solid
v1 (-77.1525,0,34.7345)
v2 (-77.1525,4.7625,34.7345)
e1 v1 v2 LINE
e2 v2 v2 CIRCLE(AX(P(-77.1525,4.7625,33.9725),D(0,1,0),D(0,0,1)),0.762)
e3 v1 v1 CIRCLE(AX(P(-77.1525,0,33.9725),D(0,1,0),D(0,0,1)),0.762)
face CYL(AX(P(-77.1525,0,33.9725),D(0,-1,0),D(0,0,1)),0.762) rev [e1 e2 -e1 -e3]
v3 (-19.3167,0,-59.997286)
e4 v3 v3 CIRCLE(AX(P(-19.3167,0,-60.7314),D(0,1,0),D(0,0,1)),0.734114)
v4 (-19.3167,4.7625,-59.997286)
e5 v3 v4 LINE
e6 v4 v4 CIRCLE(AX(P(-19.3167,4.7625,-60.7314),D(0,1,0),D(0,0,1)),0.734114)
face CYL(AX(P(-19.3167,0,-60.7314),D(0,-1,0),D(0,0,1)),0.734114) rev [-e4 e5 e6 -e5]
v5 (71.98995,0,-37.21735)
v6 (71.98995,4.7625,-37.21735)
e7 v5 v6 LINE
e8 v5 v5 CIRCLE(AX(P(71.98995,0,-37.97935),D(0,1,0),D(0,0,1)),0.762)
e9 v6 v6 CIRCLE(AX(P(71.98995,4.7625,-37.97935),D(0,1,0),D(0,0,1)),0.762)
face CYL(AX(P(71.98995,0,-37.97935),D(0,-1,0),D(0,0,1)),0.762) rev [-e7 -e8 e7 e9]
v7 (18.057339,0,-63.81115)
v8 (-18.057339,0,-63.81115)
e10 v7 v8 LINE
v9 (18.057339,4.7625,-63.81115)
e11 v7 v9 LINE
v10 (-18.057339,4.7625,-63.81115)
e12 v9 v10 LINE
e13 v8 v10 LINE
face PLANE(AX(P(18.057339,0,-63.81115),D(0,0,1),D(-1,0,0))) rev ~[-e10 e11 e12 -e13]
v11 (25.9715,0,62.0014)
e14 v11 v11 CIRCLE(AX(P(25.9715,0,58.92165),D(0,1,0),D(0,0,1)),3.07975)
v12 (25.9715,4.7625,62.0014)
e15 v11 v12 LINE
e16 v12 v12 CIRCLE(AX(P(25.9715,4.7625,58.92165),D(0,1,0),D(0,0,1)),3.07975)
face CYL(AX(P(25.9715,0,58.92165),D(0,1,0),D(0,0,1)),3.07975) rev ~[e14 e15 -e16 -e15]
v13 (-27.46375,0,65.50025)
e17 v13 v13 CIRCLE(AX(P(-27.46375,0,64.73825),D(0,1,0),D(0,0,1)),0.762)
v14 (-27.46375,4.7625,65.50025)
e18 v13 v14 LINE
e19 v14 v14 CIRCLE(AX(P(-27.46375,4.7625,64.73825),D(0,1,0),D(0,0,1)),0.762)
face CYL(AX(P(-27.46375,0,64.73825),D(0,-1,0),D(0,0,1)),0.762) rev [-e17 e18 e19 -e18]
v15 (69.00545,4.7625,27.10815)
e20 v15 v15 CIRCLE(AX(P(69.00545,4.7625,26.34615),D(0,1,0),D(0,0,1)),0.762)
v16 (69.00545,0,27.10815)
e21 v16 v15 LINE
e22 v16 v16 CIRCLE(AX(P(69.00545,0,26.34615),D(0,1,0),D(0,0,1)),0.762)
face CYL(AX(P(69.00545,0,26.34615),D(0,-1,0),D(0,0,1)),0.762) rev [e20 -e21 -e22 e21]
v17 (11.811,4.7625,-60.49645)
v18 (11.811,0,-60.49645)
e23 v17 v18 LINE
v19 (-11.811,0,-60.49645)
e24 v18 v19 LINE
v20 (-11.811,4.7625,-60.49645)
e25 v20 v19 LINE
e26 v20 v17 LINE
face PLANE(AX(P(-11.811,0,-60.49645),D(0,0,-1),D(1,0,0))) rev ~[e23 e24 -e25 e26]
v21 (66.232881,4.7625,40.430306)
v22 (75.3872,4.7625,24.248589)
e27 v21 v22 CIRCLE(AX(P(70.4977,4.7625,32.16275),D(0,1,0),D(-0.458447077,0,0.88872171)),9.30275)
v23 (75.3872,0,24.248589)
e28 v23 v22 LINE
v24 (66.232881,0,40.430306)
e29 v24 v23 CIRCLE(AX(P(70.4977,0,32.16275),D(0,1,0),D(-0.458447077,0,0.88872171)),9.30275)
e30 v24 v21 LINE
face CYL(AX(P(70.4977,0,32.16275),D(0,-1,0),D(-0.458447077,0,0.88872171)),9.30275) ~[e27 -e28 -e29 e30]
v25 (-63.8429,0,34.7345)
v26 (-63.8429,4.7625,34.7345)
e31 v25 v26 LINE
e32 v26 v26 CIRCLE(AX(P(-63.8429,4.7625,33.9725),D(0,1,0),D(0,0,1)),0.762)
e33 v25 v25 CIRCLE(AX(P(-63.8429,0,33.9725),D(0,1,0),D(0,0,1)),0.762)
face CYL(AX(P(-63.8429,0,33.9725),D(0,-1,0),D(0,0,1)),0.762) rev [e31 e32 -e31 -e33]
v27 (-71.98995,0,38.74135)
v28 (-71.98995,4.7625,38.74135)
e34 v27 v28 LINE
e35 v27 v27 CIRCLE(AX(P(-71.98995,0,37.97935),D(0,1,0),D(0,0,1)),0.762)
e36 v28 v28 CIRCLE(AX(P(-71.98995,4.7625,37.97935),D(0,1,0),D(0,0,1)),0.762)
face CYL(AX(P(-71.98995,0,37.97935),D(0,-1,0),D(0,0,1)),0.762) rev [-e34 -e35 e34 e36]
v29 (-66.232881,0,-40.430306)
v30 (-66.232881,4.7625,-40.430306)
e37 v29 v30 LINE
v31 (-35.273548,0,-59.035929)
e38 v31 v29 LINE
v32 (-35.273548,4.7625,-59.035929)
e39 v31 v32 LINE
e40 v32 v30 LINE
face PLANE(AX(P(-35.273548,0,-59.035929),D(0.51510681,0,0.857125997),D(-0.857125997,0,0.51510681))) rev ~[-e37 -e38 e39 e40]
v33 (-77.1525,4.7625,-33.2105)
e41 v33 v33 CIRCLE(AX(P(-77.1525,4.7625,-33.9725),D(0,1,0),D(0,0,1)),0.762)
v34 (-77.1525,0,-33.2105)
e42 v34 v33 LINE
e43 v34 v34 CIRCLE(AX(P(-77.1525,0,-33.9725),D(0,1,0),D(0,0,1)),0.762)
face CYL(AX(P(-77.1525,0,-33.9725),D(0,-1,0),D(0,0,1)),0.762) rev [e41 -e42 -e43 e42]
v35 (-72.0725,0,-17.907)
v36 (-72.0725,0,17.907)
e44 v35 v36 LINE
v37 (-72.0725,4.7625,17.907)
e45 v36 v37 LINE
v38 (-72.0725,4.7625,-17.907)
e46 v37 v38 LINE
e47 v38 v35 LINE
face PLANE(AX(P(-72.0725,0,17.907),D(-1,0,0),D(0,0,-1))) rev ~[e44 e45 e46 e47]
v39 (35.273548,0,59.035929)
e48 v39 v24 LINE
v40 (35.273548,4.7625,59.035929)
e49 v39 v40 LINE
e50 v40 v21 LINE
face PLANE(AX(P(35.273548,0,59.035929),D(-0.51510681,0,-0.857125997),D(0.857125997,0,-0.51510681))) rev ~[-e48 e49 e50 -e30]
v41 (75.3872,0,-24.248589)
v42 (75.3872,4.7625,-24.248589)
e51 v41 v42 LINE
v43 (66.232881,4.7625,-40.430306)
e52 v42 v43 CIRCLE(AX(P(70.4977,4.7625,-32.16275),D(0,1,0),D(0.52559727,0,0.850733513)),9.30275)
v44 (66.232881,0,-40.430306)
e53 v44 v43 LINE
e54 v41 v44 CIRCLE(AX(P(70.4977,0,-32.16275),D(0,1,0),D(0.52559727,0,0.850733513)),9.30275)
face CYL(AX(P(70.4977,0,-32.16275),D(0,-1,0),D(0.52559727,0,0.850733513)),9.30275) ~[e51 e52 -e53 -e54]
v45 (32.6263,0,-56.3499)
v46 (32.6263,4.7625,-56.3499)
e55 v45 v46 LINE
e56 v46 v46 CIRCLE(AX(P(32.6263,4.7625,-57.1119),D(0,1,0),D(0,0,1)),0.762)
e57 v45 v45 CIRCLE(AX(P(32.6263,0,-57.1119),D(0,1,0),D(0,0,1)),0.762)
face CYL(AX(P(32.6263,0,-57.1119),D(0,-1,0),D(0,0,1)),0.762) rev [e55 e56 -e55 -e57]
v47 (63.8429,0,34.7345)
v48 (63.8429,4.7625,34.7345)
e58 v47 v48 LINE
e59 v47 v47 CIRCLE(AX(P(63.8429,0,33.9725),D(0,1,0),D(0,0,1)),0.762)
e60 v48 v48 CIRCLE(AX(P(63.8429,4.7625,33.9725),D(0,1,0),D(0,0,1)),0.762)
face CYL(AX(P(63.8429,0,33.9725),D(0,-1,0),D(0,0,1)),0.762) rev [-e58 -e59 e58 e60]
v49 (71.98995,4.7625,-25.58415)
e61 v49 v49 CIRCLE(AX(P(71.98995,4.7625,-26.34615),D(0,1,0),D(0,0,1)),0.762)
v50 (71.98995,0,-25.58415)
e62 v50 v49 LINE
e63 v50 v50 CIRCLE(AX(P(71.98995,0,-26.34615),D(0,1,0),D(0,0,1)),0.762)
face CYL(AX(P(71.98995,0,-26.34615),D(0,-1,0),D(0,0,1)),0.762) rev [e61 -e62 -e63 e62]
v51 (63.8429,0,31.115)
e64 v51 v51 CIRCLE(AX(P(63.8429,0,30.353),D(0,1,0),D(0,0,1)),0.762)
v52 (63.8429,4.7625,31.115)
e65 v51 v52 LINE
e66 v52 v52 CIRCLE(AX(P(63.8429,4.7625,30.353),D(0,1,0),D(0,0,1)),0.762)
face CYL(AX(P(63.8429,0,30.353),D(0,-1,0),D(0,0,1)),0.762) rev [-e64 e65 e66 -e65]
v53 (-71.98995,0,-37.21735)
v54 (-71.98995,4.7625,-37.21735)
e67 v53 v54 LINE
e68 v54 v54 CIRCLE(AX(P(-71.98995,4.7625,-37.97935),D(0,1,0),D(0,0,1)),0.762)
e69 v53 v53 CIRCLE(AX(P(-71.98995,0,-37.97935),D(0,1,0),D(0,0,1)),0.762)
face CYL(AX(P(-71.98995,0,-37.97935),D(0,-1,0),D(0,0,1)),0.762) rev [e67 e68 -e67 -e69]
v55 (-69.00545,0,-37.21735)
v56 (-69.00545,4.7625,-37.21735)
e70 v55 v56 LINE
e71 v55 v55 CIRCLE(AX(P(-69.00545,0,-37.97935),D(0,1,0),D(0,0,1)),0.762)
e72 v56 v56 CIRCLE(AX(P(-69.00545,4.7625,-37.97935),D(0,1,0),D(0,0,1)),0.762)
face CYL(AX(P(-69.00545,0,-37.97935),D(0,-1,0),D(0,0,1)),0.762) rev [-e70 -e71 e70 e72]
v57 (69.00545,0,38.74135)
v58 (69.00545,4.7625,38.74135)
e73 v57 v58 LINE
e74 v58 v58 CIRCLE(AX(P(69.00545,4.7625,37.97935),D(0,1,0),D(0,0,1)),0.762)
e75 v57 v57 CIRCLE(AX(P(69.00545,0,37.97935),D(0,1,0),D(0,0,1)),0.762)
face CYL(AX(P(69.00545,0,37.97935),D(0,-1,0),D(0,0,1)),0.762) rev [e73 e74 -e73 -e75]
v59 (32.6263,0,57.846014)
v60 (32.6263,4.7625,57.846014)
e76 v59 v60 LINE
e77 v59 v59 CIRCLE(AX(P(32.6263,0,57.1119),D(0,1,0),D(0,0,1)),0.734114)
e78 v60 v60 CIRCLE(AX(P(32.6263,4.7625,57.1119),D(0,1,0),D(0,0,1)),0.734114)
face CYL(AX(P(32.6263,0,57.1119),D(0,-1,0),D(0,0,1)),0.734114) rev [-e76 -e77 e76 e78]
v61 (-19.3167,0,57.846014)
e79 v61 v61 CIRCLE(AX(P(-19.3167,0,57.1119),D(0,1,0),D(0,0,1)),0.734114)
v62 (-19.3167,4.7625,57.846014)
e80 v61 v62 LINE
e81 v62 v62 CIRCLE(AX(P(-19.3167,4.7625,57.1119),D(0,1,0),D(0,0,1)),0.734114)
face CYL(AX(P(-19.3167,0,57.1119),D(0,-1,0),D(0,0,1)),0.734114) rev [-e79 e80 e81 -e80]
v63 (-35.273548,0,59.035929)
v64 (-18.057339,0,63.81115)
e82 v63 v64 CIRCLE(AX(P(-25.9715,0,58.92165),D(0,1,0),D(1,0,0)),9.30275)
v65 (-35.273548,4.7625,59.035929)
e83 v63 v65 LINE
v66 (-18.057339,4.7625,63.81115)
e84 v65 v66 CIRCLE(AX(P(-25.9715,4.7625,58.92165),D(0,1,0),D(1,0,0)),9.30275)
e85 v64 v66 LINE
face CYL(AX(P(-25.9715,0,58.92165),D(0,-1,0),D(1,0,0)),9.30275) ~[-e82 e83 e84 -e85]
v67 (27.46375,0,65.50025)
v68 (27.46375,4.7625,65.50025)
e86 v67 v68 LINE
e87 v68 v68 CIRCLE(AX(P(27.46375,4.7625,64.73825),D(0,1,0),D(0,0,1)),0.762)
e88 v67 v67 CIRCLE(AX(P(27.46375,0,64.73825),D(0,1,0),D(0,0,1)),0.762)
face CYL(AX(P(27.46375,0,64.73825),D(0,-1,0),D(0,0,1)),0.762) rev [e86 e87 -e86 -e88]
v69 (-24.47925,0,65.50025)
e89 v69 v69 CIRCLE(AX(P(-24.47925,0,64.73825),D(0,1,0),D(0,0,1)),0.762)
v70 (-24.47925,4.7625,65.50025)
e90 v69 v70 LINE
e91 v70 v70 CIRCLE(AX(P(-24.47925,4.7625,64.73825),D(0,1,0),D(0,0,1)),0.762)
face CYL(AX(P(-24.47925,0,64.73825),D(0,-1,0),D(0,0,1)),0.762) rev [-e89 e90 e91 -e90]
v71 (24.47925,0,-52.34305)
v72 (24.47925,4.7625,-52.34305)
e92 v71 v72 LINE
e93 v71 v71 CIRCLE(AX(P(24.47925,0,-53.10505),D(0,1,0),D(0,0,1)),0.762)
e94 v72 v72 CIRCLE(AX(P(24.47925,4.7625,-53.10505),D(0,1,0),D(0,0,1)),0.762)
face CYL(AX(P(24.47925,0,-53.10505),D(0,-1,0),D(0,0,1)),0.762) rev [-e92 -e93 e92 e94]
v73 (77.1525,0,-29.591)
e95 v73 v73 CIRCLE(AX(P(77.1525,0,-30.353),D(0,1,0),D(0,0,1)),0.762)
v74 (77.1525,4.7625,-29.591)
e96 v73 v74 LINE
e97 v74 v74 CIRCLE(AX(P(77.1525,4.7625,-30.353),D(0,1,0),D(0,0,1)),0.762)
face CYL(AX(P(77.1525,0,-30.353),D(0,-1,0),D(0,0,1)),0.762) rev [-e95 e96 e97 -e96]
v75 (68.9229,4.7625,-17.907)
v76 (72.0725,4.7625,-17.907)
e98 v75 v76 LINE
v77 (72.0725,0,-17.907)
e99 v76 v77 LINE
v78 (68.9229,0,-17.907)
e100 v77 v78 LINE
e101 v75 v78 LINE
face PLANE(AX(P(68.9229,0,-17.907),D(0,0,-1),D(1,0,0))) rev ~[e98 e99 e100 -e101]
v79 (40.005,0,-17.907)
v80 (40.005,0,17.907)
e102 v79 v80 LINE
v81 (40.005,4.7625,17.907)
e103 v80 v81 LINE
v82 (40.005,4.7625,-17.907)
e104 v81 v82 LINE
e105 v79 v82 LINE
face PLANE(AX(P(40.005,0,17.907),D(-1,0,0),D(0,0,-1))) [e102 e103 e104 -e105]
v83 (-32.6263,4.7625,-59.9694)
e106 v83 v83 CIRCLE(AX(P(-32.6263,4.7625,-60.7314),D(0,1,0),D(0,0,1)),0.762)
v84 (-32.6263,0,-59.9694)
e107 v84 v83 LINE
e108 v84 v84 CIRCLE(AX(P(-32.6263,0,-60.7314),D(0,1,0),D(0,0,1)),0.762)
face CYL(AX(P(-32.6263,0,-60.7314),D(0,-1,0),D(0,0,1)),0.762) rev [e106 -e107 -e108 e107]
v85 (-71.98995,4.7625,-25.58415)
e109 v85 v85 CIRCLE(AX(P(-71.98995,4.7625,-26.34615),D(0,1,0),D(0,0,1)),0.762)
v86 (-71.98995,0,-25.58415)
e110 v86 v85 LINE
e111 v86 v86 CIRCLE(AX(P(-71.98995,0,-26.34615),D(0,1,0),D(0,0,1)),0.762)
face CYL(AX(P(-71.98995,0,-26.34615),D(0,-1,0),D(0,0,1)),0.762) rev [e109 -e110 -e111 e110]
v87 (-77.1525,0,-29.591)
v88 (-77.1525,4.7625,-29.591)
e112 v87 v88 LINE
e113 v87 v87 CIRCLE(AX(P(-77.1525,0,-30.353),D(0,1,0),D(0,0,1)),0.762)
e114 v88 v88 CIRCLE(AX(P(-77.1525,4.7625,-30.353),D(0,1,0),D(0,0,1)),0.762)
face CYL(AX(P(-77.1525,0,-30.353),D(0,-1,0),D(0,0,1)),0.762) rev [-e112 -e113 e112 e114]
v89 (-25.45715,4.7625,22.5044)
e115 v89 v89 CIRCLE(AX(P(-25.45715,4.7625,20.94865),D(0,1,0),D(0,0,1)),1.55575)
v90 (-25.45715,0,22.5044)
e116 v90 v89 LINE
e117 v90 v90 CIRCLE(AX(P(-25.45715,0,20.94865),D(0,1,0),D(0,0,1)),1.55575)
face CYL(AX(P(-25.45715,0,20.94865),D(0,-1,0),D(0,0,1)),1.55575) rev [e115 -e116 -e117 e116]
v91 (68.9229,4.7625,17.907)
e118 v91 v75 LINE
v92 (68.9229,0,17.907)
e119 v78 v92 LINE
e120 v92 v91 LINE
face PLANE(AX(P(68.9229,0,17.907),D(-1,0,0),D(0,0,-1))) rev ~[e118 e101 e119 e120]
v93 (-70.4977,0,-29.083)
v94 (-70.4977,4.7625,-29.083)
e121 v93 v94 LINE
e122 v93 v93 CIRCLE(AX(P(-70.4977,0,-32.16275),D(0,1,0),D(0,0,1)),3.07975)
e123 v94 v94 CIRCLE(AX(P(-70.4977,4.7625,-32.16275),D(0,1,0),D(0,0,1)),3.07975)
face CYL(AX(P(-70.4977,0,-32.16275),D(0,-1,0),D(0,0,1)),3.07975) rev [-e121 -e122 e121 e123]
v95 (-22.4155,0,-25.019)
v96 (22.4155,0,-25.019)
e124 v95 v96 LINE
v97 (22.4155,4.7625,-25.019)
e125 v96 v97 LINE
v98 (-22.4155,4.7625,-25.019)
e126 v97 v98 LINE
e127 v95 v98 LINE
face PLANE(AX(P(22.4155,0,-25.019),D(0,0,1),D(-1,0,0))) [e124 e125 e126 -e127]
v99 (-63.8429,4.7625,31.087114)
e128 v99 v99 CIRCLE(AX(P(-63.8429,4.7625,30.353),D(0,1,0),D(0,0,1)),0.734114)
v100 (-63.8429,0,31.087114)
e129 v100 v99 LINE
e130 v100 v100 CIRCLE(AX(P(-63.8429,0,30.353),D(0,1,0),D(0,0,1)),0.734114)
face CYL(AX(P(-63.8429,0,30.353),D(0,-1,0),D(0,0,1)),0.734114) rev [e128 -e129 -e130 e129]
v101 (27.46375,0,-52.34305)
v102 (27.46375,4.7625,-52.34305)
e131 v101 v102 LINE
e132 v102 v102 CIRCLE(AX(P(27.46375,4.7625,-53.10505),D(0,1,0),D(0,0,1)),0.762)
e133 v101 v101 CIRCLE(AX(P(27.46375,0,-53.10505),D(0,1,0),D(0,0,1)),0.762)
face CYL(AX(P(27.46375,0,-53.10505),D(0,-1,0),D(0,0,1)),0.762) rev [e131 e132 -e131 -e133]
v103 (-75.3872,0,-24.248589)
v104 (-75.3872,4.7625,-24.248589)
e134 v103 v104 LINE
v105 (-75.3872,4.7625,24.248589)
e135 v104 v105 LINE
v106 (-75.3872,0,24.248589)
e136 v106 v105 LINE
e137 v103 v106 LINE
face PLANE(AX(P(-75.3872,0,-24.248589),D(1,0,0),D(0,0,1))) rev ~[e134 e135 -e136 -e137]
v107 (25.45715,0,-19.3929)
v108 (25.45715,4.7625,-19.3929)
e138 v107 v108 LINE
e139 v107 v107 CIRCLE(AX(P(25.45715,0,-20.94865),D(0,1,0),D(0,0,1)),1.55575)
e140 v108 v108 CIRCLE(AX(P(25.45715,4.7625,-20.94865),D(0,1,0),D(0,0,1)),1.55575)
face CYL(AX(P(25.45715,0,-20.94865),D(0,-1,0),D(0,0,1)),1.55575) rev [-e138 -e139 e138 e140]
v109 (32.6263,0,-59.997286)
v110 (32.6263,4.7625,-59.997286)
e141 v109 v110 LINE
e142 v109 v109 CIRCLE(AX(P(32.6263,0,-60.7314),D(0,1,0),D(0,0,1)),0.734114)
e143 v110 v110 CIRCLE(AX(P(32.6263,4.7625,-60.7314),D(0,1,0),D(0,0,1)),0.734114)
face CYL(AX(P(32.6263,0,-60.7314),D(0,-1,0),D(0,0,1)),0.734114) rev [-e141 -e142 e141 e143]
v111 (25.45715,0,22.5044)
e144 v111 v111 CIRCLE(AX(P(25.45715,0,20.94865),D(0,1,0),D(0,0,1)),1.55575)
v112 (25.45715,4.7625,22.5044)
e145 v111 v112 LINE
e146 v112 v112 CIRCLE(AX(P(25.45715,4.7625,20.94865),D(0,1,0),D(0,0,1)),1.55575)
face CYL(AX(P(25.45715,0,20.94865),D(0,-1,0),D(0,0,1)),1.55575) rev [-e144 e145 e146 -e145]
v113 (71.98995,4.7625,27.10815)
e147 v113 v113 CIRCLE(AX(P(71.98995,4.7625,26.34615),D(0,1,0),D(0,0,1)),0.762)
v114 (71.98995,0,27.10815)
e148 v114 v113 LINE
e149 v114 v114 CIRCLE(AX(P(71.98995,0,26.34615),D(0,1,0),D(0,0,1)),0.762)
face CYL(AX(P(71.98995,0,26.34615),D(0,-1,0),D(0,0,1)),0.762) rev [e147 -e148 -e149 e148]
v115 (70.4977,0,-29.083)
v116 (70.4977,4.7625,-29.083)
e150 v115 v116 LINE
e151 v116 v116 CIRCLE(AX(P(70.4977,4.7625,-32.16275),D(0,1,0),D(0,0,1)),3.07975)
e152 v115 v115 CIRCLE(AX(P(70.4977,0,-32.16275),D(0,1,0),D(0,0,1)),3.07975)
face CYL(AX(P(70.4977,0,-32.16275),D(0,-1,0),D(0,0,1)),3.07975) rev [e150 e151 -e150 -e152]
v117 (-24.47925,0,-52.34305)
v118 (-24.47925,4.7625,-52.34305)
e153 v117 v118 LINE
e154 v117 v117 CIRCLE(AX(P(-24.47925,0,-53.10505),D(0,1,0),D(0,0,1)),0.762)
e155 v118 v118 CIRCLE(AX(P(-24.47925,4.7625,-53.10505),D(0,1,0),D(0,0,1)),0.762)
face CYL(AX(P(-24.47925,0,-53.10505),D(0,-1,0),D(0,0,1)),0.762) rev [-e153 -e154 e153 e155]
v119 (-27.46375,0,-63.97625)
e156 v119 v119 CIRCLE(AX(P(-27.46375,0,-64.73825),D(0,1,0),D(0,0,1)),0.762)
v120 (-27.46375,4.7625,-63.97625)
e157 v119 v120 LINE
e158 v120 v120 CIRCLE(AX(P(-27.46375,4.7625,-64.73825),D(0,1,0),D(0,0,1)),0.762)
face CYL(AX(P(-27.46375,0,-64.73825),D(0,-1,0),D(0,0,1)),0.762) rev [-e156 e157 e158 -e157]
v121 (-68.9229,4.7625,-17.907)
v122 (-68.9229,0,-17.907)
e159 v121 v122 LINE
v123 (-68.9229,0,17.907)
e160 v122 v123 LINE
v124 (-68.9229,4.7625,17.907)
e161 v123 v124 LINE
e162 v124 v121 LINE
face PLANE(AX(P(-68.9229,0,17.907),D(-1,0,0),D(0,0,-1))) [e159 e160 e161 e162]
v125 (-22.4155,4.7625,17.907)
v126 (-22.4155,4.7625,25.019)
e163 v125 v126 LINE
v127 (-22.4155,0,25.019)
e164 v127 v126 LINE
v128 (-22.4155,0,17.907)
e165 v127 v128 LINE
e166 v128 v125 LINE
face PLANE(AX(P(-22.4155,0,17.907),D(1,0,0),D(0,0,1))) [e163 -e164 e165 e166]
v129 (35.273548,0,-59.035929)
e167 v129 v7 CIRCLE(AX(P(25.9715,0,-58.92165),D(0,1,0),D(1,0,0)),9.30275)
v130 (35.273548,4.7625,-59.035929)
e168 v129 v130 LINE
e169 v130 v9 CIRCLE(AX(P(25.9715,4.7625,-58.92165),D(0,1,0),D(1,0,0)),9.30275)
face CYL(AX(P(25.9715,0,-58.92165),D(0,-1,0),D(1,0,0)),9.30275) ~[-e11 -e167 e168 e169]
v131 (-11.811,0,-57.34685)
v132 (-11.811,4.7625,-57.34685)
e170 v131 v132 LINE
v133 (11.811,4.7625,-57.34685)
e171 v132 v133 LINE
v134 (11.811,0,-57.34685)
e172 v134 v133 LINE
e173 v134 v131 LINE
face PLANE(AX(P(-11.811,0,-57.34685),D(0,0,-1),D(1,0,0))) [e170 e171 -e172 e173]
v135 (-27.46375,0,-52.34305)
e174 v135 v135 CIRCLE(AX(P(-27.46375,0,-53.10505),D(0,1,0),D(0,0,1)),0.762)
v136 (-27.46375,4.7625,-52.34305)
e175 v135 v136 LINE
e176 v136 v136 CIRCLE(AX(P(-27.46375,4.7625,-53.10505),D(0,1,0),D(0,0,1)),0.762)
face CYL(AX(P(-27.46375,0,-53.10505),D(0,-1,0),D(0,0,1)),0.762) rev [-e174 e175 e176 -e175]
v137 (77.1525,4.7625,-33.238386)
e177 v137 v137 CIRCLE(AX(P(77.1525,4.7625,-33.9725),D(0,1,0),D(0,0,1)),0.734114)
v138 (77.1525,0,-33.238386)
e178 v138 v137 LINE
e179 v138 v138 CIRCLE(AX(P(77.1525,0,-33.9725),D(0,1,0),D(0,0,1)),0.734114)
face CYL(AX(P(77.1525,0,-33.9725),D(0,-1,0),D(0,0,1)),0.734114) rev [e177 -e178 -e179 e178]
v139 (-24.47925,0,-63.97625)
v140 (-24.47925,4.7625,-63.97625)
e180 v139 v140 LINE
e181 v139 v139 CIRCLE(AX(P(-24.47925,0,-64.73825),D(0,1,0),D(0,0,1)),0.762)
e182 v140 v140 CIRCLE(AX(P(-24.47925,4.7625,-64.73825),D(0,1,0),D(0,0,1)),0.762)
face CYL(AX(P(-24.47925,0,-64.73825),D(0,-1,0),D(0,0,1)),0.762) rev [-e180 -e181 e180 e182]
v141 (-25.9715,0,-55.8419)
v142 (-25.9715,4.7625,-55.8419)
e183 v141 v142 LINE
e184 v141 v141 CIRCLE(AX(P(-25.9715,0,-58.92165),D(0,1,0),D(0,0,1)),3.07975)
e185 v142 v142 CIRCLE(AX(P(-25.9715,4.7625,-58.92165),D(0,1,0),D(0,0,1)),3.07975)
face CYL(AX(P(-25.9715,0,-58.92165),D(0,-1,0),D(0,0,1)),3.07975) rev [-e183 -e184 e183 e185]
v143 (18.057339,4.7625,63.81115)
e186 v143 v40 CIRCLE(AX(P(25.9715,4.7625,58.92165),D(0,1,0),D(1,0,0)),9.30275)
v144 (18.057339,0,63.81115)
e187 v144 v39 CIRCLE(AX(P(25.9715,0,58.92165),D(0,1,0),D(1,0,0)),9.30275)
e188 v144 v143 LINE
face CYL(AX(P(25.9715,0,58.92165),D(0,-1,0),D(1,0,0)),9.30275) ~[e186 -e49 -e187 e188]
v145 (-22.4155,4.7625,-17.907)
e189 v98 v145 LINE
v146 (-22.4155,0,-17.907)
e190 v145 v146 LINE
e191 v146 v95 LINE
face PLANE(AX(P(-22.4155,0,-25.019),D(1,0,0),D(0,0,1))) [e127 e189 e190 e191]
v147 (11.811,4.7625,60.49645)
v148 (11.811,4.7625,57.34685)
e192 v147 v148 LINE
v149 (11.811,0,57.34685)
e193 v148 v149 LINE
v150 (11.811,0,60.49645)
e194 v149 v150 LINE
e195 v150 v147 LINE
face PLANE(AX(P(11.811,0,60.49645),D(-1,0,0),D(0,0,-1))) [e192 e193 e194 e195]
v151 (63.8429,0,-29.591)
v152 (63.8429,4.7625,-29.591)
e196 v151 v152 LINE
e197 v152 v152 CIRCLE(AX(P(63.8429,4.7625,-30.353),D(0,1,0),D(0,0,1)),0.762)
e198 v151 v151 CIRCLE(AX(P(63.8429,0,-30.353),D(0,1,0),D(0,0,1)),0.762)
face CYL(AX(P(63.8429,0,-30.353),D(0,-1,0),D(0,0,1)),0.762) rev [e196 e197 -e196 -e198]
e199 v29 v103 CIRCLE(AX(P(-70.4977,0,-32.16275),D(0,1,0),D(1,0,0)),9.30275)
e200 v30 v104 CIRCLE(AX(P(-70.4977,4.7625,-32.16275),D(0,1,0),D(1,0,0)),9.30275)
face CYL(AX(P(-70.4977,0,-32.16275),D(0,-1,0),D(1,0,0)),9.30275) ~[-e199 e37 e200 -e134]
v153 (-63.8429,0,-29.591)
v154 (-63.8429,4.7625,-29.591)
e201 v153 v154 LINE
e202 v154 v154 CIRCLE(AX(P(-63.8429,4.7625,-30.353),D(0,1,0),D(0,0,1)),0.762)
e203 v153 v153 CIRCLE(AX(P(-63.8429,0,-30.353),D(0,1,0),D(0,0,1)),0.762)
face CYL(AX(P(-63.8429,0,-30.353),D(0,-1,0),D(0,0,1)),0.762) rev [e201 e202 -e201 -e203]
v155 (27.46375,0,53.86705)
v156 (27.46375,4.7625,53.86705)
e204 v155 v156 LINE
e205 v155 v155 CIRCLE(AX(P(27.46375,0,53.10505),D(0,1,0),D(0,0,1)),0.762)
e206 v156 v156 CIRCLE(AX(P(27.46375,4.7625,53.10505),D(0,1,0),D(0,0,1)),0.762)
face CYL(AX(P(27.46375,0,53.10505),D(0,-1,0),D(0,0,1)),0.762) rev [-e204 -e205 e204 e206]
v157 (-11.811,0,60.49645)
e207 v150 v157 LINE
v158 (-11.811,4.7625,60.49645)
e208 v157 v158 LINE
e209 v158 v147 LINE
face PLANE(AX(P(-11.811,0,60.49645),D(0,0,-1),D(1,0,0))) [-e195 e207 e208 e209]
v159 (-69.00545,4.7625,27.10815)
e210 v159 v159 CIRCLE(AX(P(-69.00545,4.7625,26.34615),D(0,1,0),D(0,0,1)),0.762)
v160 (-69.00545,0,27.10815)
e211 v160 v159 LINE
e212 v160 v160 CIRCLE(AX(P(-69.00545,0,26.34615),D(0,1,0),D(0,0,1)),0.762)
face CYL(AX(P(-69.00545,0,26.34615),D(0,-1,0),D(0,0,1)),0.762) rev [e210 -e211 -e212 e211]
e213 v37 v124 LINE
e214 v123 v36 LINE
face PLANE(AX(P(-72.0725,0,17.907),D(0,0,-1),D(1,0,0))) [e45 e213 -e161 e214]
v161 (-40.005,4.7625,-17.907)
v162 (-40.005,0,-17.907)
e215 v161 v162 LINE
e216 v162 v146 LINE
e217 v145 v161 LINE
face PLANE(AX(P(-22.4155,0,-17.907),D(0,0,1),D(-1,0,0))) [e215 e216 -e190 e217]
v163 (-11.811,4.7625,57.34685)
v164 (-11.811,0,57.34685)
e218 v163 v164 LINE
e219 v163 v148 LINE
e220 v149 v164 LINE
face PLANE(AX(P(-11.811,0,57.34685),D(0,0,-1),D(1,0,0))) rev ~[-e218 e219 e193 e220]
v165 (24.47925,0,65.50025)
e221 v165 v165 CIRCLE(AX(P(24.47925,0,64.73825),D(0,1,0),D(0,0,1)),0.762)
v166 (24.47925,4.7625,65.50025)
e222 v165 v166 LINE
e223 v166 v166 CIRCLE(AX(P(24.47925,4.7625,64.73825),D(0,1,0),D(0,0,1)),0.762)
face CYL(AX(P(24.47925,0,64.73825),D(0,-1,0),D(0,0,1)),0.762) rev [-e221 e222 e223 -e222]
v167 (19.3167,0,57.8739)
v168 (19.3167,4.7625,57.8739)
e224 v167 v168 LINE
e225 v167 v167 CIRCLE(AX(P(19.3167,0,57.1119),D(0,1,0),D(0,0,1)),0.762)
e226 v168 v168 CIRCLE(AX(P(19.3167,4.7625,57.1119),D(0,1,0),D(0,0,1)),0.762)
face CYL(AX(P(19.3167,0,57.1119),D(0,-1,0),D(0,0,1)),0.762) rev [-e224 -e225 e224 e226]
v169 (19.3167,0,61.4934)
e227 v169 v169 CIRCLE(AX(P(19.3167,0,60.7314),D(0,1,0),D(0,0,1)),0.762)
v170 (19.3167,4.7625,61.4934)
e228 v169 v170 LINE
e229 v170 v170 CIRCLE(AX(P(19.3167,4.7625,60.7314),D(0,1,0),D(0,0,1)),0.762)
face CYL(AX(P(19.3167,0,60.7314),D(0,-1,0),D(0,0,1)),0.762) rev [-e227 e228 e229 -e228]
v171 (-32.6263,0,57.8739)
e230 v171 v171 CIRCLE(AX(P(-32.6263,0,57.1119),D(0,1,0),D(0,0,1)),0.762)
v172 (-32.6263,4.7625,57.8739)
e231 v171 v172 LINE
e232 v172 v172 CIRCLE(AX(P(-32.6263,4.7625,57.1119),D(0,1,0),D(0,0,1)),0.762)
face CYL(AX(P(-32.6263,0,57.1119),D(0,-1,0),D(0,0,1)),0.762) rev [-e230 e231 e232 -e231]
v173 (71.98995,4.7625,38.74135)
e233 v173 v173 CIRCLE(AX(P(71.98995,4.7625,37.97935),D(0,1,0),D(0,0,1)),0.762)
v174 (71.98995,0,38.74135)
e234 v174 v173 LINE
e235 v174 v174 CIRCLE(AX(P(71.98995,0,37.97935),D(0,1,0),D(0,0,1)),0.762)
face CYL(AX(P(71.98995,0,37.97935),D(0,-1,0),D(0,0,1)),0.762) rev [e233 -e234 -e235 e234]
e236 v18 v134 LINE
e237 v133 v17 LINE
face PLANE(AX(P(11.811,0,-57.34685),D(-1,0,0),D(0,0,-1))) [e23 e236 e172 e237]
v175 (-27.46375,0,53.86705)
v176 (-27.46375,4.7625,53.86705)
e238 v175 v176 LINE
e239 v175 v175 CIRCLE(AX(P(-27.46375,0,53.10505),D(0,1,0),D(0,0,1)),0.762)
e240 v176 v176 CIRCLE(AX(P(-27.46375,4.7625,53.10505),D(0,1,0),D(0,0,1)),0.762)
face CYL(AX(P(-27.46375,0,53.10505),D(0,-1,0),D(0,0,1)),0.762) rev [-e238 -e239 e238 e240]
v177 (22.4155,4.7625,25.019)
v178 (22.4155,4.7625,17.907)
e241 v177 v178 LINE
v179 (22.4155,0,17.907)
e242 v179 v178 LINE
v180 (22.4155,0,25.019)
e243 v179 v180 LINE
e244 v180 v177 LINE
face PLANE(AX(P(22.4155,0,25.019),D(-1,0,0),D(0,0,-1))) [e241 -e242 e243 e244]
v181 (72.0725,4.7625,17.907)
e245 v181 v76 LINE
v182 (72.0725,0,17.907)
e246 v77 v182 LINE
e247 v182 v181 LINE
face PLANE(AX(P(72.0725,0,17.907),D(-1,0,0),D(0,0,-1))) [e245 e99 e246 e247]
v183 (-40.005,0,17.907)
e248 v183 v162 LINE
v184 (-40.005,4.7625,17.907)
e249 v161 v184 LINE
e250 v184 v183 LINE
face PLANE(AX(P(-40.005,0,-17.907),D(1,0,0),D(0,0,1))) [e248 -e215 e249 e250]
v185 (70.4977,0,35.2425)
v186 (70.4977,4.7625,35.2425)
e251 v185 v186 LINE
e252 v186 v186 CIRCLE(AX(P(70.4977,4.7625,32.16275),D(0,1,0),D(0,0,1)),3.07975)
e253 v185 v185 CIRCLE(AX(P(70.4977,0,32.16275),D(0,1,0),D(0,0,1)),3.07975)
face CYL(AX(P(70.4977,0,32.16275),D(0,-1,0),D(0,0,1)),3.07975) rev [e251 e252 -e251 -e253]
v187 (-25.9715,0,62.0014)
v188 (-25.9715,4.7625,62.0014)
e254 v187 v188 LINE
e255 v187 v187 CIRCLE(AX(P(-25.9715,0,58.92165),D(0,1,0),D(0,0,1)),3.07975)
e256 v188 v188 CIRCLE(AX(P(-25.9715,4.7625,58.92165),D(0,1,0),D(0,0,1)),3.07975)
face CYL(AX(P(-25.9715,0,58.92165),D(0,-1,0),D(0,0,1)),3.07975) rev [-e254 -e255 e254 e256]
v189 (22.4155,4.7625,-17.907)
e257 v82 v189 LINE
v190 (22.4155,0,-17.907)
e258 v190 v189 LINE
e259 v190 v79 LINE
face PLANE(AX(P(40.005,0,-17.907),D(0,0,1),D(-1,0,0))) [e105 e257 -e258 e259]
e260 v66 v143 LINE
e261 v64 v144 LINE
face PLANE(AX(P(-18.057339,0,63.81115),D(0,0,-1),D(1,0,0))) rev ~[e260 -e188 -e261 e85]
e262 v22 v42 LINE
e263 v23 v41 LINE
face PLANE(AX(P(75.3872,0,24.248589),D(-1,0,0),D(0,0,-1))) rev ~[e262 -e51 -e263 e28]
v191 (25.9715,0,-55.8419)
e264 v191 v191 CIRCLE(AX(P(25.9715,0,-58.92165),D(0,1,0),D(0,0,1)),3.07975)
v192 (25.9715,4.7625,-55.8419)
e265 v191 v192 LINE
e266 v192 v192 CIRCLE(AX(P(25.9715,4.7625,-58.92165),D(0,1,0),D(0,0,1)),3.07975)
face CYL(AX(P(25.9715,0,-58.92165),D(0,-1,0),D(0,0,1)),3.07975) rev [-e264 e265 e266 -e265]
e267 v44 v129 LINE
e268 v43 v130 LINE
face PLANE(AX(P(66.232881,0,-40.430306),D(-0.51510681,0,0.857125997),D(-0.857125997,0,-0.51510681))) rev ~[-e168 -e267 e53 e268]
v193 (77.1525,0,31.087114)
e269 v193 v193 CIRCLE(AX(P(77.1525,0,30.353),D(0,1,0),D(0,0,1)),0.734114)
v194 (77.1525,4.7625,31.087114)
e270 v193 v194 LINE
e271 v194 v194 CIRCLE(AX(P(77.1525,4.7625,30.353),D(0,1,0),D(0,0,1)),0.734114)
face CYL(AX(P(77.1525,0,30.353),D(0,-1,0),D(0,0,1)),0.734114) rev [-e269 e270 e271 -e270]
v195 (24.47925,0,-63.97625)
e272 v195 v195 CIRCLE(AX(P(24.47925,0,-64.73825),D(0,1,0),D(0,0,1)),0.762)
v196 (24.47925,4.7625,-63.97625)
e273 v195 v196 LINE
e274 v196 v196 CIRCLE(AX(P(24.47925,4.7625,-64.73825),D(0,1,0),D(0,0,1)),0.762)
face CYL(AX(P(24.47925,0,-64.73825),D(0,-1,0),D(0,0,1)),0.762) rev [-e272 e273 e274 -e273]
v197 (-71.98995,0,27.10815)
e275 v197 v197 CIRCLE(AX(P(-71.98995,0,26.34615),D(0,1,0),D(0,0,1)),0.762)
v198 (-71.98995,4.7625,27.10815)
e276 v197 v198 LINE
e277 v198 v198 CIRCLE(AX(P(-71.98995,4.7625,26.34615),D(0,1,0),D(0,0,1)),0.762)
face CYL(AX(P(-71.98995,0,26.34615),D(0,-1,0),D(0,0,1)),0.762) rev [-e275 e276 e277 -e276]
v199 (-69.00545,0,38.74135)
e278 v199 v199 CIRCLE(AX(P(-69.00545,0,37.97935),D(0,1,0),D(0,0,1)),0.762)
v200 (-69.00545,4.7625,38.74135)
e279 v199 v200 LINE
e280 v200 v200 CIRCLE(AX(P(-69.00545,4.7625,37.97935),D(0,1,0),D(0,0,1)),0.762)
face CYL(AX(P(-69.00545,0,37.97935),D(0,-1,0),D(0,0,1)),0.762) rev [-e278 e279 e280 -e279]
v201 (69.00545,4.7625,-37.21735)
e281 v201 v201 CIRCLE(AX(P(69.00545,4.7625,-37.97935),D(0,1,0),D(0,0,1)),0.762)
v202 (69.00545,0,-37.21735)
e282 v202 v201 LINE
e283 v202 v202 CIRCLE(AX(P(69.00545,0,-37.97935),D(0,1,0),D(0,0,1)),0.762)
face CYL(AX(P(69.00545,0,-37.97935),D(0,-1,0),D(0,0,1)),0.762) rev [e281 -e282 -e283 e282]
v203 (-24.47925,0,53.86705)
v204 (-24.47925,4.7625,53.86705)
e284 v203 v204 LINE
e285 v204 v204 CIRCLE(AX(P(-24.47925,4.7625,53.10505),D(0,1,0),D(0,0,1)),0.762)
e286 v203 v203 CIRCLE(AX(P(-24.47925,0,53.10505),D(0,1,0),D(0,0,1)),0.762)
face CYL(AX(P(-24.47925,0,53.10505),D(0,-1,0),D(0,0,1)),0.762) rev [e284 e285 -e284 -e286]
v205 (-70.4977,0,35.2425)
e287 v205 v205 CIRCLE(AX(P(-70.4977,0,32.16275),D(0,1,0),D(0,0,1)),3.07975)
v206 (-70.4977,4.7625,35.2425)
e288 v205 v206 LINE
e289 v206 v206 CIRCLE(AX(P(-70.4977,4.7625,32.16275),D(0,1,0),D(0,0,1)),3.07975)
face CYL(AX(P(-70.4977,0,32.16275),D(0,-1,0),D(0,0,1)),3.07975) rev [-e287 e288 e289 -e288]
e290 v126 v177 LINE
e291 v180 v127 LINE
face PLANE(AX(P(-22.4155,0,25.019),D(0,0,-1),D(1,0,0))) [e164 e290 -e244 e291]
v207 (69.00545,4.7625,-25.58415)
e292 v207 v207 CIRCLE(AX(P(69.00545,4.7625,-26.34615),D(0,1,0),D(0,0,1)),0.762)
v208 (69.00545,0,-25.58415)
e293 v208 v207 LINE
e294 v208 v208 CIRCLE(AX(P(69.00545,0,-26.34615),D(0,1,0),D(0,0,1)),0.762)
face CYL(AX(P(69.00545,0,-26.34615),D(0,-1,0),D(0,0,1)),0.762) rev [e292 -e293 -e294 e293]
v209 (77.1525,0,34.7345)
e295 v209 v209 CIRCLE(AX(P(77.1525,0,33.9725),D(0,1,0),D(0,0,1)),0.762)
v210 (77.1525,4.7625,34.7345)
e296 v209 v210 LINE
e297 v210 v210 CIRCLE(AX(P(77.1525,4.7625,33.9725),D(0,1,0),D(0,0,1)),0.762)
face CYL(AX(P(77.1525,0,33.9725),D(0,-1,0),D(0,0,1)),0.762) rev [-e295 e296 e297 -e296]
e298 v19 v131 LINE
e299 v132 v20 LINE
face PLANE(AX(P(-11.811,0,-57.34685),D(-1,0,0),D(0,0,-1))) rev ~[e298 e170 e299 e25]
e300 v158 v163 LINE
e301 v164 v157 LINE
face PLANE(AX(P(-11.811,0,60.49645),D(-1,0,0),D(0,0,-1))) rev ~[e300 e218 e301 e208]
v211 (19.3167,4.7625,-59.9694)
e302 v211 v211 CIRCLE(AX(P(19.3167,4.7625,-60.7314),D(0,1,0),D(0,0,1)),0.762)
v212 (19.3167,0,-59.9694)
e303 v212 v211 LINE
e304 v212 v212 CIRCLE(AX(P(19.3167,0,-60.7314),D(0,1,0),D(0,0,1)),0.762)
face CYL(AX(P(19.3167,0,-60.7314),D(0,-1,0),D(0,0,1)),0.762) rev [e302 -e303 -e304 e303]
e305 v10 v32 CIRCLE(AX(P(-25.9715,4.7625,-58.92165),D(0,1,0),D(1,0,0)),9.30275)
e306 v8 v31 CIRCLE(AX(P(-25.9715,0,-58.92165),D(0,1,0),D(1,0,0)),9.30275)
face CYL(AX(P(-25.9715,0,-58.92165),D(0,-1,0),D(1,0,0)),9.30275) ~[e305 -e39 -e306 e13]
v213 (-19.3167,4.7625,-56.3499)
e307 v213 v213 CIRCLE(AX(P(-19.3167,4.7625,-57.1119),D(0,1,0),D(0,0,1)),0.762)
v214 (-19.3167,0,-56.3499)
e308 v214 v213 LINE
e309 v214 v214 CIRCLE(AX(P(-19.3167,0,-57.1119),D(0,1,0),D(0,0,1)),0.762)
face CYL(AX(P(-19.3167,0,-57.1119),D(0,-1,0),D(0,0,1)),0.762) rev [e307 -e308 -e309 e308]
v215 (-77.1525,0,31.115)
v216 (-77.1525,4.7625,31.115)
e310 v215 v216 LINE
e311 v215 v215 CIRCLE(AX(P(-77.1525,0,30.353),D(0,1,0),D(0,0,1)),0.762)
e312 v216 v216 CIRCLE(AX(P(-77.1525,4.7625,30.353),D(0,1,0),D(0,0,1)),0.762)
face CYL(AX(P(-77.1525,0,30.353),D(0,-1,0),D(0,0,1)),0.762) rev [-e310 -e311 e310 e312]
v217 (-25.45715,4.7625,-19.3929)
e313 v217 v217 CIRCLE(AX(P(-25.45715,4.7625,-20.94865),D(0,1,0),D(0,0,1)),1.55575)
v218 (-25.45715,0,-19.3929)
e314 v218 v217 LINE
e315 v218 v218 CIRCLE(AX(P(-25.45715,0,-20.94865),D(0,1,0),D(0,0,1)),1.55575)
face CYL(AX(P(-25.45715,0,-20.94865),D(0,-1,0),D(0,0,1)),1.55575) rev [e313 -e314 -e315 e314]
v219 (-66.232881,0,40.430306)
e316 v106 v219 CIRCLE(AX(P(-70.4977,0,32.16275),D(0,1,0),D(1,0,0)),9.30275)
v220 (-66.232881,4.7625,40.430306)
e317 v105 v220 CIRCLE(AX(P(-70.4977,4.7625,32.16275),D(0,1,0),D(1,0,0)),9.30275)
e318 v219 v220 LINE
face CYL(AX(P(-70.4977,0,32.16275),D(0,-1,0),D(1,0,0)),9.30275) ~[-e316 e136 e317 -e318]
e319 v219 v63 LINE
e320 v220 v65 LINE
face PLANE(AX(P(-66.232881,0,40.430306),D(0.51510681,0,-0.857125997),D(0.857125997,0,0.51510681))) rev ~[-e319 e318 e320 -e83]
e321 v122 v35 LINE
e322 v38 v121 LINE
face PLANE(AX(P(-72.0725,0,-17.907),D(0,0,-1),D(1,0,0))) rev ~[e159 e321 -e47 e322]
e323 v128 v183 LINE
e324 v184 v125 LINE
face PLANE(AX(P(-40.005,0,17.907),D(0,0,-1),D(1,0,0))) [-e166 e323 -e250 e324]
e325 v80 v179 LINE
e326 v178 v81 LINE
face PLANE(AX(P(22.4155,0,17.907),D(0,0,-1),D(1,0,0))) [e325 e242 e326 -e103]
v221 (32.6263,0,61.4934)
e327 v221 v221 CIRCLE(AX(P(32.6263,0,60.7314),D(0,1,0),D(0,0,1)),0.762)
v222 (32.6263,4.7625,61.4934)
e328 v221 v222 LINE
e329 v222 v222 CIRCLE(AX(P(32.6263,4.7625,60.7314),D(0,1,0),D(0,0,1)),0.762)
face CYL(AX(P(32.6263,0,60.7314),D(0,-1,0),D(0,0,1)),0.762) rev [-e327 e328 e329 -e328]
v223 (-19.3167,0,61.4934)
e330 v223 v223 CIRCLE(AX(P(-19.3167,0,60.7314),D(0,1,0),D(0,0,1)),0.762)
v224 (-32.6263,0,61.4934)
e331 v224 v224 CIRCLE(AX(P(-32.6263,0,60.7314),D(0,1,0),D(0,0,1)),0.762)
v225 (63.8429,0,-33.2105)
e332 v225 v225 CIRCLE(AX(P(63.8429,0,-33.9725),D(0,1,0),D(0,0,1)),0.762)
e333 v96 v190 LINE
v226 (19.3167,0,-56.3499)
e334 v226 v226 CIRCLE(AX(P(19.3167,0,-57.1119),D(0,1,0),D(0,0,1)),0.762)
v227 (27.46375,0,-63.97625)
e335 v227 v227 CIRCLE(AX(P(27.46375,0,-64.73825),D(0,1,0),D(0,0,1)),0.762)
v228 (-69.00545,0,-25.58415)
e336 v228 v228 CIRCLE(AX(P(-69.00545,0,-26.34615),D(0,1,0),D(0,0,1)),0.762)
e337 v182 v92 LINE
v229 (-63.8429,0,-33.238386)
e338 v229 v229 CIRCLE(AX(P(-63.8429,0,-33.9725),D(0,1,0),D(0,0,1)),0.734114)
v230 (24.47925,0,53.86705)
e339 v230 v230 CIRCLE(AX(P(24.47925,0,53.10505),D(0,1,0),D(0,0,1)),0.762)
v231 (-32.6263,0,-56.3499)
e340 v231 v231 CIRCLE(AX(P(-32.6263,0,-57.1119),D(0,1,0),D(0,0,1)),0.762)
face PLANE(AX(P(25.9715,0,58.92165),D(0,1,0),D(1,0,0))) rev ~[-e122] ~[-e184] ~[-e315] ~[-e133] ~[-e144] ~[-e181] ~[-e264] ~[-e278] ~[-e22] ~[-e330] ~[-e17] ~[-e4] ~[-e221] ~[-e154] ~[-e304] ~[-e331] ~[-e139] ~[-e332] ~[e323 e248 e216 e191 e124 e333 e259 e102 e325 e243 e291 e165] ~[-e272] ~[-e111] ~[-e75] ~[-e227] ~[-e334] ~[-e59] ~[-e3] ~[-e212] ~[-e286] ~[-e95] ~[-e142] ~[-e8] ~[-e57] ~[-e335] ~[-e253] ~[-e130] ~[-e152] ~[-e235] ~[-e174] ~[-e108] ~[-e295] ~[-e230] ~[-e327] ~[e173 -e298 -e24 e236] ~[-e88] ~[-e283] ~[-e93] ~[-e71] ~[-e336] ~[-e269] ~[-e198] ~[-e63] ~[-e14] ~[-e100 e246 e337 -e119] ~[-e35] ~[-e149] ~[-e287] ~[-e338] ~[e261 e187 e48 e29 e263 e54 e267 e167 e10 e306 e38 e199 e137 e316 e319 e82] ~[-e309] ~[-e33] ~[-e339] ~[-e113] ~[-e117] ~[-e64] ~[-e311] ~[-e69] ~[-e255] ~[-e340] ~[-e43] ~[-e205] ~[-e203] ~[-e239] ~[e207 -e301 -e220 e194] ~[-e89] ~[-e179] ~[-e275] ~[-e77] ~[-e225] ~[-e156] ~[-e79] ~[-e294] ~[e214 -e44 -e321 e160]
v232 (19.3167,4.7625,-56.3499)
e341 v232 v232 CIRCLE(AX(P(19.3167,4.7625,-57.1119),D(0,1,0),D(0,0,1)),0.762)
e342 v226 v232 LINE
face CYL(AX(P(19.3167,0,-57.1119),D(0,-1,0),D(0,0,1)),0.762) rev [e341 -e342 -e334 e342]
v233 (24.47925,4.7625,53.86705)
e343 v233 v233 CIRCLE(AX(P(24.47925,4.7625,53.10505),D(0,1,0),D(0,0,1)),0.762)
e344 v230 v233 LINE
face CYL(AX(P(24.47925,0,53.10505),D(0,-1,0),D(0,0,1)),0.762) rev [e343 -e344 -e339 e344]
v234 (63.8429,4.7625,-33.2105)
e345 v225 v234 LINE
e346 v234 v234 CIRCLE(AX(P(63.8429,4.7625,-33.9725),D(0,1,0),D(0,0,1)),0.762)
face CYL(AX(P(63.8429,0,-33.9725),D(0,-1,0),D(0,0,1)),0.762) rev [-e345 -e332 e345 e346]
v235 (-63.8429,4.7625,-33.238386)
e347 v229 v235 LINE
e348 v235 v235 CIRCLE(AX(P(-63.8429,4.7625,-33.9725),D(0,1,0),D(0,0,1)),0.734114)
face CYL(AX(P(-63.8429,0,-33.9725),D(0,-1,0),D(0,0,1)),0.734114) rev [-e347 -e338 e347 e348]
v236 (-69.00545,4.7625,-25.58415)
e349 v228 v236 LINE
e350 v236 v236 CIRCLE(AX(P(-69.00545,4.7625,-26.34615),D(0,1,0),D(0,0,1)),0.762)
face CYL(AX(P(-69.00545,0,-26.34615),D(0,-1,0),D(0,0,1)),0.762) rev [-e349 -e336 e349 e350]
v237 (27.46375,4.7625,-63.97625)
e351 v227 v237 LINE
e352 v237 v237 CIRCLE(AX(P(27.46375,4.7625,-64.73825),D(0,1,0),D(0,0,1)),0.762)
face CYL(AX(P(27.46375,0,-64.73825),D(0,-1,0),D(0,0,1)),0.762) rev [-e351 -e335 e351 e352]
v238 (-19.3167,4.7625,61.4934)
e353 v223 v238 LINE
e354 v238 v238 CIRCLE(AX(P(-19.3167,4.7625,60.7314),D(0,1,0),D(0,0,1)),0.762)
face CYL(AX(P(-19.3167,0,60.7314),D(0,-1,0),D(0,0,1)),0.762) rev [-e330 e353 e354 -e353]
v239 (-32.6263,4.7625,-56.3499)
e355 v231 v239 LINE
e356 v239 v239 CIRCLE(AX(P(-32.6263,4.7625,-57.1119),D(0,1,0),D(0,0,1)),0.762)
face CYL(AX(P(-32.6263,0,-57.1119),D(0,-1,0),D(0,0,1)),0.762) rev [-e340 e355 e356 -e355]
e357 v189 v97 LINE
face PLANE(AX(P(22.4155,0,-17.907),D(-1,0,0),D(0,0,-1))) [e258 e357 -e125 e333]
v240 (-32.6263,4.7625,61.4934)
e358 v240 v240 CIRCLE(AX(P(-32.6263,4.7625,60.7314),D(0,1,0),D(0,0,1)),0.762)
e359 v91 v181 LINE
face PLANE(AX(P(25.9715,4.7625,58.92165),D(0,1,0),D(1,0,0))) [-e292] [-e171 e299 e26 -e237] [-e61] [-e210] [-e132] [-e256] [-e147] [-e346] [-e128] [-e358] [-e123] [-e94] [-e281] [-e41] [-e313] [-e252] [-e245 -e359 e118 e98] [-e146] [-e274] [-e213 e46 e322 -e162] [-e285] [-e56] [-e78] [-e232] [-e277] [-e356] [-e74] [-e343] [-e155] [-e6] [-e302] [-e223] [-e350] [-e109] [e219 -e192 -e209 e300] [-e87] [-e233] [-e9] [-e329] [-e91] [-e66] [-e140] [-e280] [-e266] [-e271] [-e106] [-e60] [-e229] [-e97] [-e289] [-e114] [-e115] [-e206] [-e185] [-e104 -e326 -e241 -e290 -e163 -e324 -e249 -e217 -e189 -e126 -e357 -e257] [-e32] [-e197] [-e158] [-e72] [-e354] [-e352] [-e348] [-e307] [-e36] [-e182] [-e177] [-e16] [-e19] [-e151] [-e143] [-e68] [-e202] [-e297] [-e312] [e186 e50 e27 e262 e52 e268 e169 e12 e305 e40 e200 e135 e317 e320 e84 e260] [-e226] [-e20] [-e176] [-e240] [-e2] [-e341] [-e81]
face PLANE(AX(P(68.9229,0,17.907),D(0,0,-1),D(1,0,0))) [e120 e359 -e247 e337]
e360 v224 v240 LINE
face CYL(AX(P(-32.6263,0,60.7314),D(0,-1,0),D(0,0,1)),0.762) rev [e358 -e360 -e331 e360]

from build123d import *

# Parameters (mm, degrees)
SKETCH1_R           = 9.30275
BOSS_EXTRUDE1_DEPTH = 4.7625
SKETCH1_6_R         = 0.762
SKETCH1_6_R_2       = 0.734114047
SKETCH1_6_W         = 3.1496
SKETCH1_6_H         = 35.814
SKETCH1_6_W_2       = 23.622
SKETCH1_6_H_2       = 3.1496
SKETCH1_6_R_3       = 3.07975
SKETCH1_6_R_4       = 1.55575
CUT_EXTRUDE2_DEPTH  = 4.7625


with BuildPart() as part:
    # Sketch1 → Boss-Extrude1 (new body)
    with BuildSketch(Plane(origin=(0, 0, 0), x_dir=(1, 0, 0), z_dir=(0, 1, 0))):
        with Locations((25.9715, -58.92165)):
            Circle(SKETCH1_R)
        with Locations((-70.4977, 32.16275)):
            Circle(SKETCH1_R)
        with Locations((-70.4977, -32.16275)):
            Circle(SKETCH1_R)
        with Locations((70.4977, 32.16275)):
            Circle(SKETCH1_R)
        with Locations((70.4977, -32.16275)):
            Circle(SKETCH1_R)
        with Locations((25.9715, 58.92165)):
            Circle(SKETCH1_R)
        with Locations((-25.9715, 58.92165)):
            Circle(SKETCH1_R)
        with Locations((-25.9715, -58.92165)):
            Circle(SKETCH1_R)
        Polygon((-75.3872, 32.16275), (-75.3872, -32.16275), (-73.016314747, -36.353667562), (-28.490114747, -63.112567562), (-25.9715, -63.81115), (25.9715, -63.81115), (28.490114747, -63.112567562), (73.016314747, -36.353667562), (75.3872, -32.16275), (75.3872, 32.16275), (73.016314747, 36.353667562), (28.490114747, 63.112567562), (25.9715, 63.81115), (-25.9715, 63.81115), (-28.490114747, 63.112567562), (-73.016314747, 36.353667562), align=None)
    extrude(amount=BOSS_EXTRUDE1_DEPTH)

    # Sketch1<6> → Cut-Extrude2 (cut, symmetric)
    with BuildSketch(Plane(origin=(0, 0, 0), x_dir=(1, 0, 0), z_dir=(0, 1, 0))):
        with Locations((-69.00545, 37.97935)):
            Circle(SKETCH1_6_R)
        with Locations((-69.00545, -37.97935)):
            Circle(SKETCH1_6_R)
        with Locations((-32.6263, 60.7314)):
            Circle(SKETCH1_6_R)
        with Locations((-32.6263, -60.7314)):
            Circle(SKETCH1_6_R)
        with Locations((32.6263, 60.7314)):
            Circle(SKETCH1_6_R_2)
        with Locations((32.6263, -60.7314)):
            Circle(SKETCH1_6_R)
        with Locations((69.00545, 37.97935)):
            Circle(SKETCH1_6_R)
        with Locations((69.00545, -37.97935)):
            Circle(SKETCH1_6_R)
        Polygon((-22.4155, 17.907), (-40.005, 17.907), (-40.005, -17.907), (-22.4155, -17.907), (-22.4155, -25.019), (22.4155, -25.019), (22.4155, -17.907), (40.005, -17.907), (40.005, 17.907), (22.4155, 17.907), (22.4155, 25.019), (-22.4155, 25.019), align=None)
        with Locations((-70.4977, 0)):
            Rectangle(SKETCH1_6_W, SKETCH1_6_H)
        with Locations((70.4977, 0)):
            Rectangle(SKETCH1_6_W, SKETCH1_6_H)
        with Locations((0, -58.92165)):
            Rectangle(SKETCH1_6_W_2, SKETCH1_6_H_2)
        with Locations((0, 58.92165)):
            Rectangle(SKETCH1_6_W_2, SKETCH1_6_H_2)
        with Locations((25.9715, -58.92165)):
            Circle(SKETCH1_6_R_3)
        with Locations((27.46375, -53.10505)):
            Circle(SKETCH1_6_R)
        with Locations((24.47925, -53.10505)):
            Circle(SKETCH1_6_R)
        with Locations((24.47925, -64.73825)):
            Circle(SKETCH1_6_R)
        with Locations((27.46375, -64.73825)):
            Circle(SKETCH1_6_R)
        with Locations((19.3167, -57.1119)):
            Circle(SKETCH1_6_R)
        with Locations((19.3167, -60.7314)):
            Circle(SKETCH1_6_R)
        with Locations((32.6263, -57.1119)):
            Circle(SKETCH1_6_R_2)
        with Locations((-63.8429, 30.353)):
            Circle(SKETCH1_6_R)
        with Locations((-77.1525, 30.353)):
            Circle(SKETCH1_6_R)
        with Locations((-71.98995, 26.34615)):
            Circle(SKETCH1_6_R)
        with Locations((-77.1525, 33.9725)):
            Circle(SKETCH1_6_R)
        with Locations((-70.4977, 32.16275)):
            Circle(SKETCH1_6_R_3)
        with Locations((-69.00545, 26.34615)):
            Circle(SKETCH1_6_R)
        with Locations((-71.98995, 37.97935)):
            Circle(SKETCH1_6_R)
        with Locations((-63.8429, 33.9725)):
            Circle(SKETCH1_6_R_2)
        with Locations((-70.4977, -32.16275)):
            Circle(SKETCH1_6_R_3)
        with Locations((-69.00545, -26.34615)):
            Circle(SKETCH1_6_R)
        with Locations((-71.98995, -26.34615)):
            Circle(SKETCH1_6_R)
        with Locations((-71.98995, -37.97935)):
            Circle(SKETCH1_6_R)
        with Locations((-77.1525, -30.353)):
            Circle(SKETCH1_6_R)
        with Locations((-77.1525, -33.9725)):
            Circle(SKETCH1_6_R)
        with Locations((-63.8429, -30.353)):
            Circle(SKETCH1_6_R_2)
        with Locations((-63.8429, -33.9725)):
            Circle(SKETCH1_6_R)
        with Locations((70.4977, 32.16275)):
            Circle(SKETCH1_6_R_3)
        with Locations((71.98995, 37.97935)):
            Circle(SKETCH1_6_R)
        with Locations((69.00545, 26.34615)):
            Circle(SKETCH1_6_R)
        with Locations((71.98995, 26.34615)):
            Circle(SKETCH1_6_R)
        with Locations((63.8429, 33.9725)):
            Circle(SKETCH1_6_R)
        with Locations((63.8429, 30.353)):
            Circle(SKETCH1_6_R)
        with Locations((77.1525, 33.9725)):
            Circle(SKETCH1_6_R_2)
        with Locations((77.1525, 30.353)):
            Circle(SKETCH1_6_R)
        with Locations((70.4977, -32.16275)):
            Circle(SKETCH1_6_R_3)
        with Locations((71.98995, -26.34615)):
            Circle(SKETCH1_6_R)
        with Locations((69.00545, -26.34615)):
            Circle(SKETCH1_6_R)
        with Locations((71.98995, -37.97935)):
            Circle(SKETCH1_6_R)
        with Locations((63.8429, -30.353)):
            Circle(SKETCH1_6_R)
        with Locations((63.8429, -33.9725)):
            Circle(SKETCH1_6_R)
        with Locations((77.1525, -30.353)):
            Circle(SKETCH1_6_R_2)
        with Locations((77.1525, -33.9725)):
            Circle(SKETCH1_6_R)
        with Locations((25.9715, 58.92165)):
            Circle(SKETCH1_6_R_3)
        with Locations((27.46375, 64.73825)):
            Circle(SKETCH1_6_R)
        with Locations((24.47925, 64.73825)):
            Circle(SKETCH1_6_R)
        with Locations((24.47925, 53.10505)):
            Circle(SKETCH1_6_R)
        with Locations((27.46375, 53.10505)):
            Circle(SKETCH1_6_R)
        with Locations((19.3167, 60.7314)):
            Circle(SKETCH1_6_R)
        with Locations((19.3167, 57.1119)):
            Circle(SKETCH1_6_R)
        with Locations((32.6263, 57.1119)):
            Circle(SKETCH1_6_R)
        with Locations((-25.9715, 58.92165)):
            Circle(SKETCH1_6_R_3)
        with Locations((-24.47925, 64.73825)):
            Circle(SKETCH1_6_R)
        with Locations((-27.46375, 64.73825)):
            Circle(SKETCH1_6_R)
        with Locations((-27.46375, 53.10505)):
            Circle(SKETCH1_6_R)
        with Locations((-24.47925, 53.10505)):
            Circle(SKETCH1_6_R)
        with Locations((-32.6263, 57.1119)):
            Circle(SKETCH1_6_R)
        with Locations((-19.3167, 60.7314)):
            Circle(SKETCH1_6_R_2)
        with Locations((-19.3167, 57.1119)):
            Circle(SKETCH1_6_R)
        with Locations((-25.9715, -58.92165)):
            Circle(SKETCH1_6_R_3)
        with Locations((-24.47925, -53.10505)):
            Circle(SKETCH1_6_R)
        with Locations((-27.46375, -53.10505)):
            Circle(SKETCH1_6_R)
        with Locations((-27.46375, -64.73825)):
            Circle(SKETCH1_6_R)
        with Locations((-24.47925, -64.73825)):
            Circle(SKETCH1_6_R)
        with Locations((-32.6263, -57.1119)):
            Circle(SKETCH1_6_R)
        with Locations((-19.3167, -57.1119)):
            Circle(SKETCH1_6_R_2)
        with Locations((-19.3167, -60.7314)):
            Circle(SKETCH1_6_R)
        with Locations((-25.45715, 20.94865)):
            Circle(SKETCH1_6_R_4)
        with Locations((25.45715, 20.94865)):
            Circle(SKETCH1_6_R_4)
        with Locations((25.45715, -20.94865)):
            Circle(SKETCH1_6_R_4)
        with Locations((-25.45715, -20.94865)):
            Circle(SKETCH1_6_R_4)
    extrude(amount=CUT_EXTRUDE2_DEPTH, both=True, mode=Mode.SUBTRACT)


solid = part.part
